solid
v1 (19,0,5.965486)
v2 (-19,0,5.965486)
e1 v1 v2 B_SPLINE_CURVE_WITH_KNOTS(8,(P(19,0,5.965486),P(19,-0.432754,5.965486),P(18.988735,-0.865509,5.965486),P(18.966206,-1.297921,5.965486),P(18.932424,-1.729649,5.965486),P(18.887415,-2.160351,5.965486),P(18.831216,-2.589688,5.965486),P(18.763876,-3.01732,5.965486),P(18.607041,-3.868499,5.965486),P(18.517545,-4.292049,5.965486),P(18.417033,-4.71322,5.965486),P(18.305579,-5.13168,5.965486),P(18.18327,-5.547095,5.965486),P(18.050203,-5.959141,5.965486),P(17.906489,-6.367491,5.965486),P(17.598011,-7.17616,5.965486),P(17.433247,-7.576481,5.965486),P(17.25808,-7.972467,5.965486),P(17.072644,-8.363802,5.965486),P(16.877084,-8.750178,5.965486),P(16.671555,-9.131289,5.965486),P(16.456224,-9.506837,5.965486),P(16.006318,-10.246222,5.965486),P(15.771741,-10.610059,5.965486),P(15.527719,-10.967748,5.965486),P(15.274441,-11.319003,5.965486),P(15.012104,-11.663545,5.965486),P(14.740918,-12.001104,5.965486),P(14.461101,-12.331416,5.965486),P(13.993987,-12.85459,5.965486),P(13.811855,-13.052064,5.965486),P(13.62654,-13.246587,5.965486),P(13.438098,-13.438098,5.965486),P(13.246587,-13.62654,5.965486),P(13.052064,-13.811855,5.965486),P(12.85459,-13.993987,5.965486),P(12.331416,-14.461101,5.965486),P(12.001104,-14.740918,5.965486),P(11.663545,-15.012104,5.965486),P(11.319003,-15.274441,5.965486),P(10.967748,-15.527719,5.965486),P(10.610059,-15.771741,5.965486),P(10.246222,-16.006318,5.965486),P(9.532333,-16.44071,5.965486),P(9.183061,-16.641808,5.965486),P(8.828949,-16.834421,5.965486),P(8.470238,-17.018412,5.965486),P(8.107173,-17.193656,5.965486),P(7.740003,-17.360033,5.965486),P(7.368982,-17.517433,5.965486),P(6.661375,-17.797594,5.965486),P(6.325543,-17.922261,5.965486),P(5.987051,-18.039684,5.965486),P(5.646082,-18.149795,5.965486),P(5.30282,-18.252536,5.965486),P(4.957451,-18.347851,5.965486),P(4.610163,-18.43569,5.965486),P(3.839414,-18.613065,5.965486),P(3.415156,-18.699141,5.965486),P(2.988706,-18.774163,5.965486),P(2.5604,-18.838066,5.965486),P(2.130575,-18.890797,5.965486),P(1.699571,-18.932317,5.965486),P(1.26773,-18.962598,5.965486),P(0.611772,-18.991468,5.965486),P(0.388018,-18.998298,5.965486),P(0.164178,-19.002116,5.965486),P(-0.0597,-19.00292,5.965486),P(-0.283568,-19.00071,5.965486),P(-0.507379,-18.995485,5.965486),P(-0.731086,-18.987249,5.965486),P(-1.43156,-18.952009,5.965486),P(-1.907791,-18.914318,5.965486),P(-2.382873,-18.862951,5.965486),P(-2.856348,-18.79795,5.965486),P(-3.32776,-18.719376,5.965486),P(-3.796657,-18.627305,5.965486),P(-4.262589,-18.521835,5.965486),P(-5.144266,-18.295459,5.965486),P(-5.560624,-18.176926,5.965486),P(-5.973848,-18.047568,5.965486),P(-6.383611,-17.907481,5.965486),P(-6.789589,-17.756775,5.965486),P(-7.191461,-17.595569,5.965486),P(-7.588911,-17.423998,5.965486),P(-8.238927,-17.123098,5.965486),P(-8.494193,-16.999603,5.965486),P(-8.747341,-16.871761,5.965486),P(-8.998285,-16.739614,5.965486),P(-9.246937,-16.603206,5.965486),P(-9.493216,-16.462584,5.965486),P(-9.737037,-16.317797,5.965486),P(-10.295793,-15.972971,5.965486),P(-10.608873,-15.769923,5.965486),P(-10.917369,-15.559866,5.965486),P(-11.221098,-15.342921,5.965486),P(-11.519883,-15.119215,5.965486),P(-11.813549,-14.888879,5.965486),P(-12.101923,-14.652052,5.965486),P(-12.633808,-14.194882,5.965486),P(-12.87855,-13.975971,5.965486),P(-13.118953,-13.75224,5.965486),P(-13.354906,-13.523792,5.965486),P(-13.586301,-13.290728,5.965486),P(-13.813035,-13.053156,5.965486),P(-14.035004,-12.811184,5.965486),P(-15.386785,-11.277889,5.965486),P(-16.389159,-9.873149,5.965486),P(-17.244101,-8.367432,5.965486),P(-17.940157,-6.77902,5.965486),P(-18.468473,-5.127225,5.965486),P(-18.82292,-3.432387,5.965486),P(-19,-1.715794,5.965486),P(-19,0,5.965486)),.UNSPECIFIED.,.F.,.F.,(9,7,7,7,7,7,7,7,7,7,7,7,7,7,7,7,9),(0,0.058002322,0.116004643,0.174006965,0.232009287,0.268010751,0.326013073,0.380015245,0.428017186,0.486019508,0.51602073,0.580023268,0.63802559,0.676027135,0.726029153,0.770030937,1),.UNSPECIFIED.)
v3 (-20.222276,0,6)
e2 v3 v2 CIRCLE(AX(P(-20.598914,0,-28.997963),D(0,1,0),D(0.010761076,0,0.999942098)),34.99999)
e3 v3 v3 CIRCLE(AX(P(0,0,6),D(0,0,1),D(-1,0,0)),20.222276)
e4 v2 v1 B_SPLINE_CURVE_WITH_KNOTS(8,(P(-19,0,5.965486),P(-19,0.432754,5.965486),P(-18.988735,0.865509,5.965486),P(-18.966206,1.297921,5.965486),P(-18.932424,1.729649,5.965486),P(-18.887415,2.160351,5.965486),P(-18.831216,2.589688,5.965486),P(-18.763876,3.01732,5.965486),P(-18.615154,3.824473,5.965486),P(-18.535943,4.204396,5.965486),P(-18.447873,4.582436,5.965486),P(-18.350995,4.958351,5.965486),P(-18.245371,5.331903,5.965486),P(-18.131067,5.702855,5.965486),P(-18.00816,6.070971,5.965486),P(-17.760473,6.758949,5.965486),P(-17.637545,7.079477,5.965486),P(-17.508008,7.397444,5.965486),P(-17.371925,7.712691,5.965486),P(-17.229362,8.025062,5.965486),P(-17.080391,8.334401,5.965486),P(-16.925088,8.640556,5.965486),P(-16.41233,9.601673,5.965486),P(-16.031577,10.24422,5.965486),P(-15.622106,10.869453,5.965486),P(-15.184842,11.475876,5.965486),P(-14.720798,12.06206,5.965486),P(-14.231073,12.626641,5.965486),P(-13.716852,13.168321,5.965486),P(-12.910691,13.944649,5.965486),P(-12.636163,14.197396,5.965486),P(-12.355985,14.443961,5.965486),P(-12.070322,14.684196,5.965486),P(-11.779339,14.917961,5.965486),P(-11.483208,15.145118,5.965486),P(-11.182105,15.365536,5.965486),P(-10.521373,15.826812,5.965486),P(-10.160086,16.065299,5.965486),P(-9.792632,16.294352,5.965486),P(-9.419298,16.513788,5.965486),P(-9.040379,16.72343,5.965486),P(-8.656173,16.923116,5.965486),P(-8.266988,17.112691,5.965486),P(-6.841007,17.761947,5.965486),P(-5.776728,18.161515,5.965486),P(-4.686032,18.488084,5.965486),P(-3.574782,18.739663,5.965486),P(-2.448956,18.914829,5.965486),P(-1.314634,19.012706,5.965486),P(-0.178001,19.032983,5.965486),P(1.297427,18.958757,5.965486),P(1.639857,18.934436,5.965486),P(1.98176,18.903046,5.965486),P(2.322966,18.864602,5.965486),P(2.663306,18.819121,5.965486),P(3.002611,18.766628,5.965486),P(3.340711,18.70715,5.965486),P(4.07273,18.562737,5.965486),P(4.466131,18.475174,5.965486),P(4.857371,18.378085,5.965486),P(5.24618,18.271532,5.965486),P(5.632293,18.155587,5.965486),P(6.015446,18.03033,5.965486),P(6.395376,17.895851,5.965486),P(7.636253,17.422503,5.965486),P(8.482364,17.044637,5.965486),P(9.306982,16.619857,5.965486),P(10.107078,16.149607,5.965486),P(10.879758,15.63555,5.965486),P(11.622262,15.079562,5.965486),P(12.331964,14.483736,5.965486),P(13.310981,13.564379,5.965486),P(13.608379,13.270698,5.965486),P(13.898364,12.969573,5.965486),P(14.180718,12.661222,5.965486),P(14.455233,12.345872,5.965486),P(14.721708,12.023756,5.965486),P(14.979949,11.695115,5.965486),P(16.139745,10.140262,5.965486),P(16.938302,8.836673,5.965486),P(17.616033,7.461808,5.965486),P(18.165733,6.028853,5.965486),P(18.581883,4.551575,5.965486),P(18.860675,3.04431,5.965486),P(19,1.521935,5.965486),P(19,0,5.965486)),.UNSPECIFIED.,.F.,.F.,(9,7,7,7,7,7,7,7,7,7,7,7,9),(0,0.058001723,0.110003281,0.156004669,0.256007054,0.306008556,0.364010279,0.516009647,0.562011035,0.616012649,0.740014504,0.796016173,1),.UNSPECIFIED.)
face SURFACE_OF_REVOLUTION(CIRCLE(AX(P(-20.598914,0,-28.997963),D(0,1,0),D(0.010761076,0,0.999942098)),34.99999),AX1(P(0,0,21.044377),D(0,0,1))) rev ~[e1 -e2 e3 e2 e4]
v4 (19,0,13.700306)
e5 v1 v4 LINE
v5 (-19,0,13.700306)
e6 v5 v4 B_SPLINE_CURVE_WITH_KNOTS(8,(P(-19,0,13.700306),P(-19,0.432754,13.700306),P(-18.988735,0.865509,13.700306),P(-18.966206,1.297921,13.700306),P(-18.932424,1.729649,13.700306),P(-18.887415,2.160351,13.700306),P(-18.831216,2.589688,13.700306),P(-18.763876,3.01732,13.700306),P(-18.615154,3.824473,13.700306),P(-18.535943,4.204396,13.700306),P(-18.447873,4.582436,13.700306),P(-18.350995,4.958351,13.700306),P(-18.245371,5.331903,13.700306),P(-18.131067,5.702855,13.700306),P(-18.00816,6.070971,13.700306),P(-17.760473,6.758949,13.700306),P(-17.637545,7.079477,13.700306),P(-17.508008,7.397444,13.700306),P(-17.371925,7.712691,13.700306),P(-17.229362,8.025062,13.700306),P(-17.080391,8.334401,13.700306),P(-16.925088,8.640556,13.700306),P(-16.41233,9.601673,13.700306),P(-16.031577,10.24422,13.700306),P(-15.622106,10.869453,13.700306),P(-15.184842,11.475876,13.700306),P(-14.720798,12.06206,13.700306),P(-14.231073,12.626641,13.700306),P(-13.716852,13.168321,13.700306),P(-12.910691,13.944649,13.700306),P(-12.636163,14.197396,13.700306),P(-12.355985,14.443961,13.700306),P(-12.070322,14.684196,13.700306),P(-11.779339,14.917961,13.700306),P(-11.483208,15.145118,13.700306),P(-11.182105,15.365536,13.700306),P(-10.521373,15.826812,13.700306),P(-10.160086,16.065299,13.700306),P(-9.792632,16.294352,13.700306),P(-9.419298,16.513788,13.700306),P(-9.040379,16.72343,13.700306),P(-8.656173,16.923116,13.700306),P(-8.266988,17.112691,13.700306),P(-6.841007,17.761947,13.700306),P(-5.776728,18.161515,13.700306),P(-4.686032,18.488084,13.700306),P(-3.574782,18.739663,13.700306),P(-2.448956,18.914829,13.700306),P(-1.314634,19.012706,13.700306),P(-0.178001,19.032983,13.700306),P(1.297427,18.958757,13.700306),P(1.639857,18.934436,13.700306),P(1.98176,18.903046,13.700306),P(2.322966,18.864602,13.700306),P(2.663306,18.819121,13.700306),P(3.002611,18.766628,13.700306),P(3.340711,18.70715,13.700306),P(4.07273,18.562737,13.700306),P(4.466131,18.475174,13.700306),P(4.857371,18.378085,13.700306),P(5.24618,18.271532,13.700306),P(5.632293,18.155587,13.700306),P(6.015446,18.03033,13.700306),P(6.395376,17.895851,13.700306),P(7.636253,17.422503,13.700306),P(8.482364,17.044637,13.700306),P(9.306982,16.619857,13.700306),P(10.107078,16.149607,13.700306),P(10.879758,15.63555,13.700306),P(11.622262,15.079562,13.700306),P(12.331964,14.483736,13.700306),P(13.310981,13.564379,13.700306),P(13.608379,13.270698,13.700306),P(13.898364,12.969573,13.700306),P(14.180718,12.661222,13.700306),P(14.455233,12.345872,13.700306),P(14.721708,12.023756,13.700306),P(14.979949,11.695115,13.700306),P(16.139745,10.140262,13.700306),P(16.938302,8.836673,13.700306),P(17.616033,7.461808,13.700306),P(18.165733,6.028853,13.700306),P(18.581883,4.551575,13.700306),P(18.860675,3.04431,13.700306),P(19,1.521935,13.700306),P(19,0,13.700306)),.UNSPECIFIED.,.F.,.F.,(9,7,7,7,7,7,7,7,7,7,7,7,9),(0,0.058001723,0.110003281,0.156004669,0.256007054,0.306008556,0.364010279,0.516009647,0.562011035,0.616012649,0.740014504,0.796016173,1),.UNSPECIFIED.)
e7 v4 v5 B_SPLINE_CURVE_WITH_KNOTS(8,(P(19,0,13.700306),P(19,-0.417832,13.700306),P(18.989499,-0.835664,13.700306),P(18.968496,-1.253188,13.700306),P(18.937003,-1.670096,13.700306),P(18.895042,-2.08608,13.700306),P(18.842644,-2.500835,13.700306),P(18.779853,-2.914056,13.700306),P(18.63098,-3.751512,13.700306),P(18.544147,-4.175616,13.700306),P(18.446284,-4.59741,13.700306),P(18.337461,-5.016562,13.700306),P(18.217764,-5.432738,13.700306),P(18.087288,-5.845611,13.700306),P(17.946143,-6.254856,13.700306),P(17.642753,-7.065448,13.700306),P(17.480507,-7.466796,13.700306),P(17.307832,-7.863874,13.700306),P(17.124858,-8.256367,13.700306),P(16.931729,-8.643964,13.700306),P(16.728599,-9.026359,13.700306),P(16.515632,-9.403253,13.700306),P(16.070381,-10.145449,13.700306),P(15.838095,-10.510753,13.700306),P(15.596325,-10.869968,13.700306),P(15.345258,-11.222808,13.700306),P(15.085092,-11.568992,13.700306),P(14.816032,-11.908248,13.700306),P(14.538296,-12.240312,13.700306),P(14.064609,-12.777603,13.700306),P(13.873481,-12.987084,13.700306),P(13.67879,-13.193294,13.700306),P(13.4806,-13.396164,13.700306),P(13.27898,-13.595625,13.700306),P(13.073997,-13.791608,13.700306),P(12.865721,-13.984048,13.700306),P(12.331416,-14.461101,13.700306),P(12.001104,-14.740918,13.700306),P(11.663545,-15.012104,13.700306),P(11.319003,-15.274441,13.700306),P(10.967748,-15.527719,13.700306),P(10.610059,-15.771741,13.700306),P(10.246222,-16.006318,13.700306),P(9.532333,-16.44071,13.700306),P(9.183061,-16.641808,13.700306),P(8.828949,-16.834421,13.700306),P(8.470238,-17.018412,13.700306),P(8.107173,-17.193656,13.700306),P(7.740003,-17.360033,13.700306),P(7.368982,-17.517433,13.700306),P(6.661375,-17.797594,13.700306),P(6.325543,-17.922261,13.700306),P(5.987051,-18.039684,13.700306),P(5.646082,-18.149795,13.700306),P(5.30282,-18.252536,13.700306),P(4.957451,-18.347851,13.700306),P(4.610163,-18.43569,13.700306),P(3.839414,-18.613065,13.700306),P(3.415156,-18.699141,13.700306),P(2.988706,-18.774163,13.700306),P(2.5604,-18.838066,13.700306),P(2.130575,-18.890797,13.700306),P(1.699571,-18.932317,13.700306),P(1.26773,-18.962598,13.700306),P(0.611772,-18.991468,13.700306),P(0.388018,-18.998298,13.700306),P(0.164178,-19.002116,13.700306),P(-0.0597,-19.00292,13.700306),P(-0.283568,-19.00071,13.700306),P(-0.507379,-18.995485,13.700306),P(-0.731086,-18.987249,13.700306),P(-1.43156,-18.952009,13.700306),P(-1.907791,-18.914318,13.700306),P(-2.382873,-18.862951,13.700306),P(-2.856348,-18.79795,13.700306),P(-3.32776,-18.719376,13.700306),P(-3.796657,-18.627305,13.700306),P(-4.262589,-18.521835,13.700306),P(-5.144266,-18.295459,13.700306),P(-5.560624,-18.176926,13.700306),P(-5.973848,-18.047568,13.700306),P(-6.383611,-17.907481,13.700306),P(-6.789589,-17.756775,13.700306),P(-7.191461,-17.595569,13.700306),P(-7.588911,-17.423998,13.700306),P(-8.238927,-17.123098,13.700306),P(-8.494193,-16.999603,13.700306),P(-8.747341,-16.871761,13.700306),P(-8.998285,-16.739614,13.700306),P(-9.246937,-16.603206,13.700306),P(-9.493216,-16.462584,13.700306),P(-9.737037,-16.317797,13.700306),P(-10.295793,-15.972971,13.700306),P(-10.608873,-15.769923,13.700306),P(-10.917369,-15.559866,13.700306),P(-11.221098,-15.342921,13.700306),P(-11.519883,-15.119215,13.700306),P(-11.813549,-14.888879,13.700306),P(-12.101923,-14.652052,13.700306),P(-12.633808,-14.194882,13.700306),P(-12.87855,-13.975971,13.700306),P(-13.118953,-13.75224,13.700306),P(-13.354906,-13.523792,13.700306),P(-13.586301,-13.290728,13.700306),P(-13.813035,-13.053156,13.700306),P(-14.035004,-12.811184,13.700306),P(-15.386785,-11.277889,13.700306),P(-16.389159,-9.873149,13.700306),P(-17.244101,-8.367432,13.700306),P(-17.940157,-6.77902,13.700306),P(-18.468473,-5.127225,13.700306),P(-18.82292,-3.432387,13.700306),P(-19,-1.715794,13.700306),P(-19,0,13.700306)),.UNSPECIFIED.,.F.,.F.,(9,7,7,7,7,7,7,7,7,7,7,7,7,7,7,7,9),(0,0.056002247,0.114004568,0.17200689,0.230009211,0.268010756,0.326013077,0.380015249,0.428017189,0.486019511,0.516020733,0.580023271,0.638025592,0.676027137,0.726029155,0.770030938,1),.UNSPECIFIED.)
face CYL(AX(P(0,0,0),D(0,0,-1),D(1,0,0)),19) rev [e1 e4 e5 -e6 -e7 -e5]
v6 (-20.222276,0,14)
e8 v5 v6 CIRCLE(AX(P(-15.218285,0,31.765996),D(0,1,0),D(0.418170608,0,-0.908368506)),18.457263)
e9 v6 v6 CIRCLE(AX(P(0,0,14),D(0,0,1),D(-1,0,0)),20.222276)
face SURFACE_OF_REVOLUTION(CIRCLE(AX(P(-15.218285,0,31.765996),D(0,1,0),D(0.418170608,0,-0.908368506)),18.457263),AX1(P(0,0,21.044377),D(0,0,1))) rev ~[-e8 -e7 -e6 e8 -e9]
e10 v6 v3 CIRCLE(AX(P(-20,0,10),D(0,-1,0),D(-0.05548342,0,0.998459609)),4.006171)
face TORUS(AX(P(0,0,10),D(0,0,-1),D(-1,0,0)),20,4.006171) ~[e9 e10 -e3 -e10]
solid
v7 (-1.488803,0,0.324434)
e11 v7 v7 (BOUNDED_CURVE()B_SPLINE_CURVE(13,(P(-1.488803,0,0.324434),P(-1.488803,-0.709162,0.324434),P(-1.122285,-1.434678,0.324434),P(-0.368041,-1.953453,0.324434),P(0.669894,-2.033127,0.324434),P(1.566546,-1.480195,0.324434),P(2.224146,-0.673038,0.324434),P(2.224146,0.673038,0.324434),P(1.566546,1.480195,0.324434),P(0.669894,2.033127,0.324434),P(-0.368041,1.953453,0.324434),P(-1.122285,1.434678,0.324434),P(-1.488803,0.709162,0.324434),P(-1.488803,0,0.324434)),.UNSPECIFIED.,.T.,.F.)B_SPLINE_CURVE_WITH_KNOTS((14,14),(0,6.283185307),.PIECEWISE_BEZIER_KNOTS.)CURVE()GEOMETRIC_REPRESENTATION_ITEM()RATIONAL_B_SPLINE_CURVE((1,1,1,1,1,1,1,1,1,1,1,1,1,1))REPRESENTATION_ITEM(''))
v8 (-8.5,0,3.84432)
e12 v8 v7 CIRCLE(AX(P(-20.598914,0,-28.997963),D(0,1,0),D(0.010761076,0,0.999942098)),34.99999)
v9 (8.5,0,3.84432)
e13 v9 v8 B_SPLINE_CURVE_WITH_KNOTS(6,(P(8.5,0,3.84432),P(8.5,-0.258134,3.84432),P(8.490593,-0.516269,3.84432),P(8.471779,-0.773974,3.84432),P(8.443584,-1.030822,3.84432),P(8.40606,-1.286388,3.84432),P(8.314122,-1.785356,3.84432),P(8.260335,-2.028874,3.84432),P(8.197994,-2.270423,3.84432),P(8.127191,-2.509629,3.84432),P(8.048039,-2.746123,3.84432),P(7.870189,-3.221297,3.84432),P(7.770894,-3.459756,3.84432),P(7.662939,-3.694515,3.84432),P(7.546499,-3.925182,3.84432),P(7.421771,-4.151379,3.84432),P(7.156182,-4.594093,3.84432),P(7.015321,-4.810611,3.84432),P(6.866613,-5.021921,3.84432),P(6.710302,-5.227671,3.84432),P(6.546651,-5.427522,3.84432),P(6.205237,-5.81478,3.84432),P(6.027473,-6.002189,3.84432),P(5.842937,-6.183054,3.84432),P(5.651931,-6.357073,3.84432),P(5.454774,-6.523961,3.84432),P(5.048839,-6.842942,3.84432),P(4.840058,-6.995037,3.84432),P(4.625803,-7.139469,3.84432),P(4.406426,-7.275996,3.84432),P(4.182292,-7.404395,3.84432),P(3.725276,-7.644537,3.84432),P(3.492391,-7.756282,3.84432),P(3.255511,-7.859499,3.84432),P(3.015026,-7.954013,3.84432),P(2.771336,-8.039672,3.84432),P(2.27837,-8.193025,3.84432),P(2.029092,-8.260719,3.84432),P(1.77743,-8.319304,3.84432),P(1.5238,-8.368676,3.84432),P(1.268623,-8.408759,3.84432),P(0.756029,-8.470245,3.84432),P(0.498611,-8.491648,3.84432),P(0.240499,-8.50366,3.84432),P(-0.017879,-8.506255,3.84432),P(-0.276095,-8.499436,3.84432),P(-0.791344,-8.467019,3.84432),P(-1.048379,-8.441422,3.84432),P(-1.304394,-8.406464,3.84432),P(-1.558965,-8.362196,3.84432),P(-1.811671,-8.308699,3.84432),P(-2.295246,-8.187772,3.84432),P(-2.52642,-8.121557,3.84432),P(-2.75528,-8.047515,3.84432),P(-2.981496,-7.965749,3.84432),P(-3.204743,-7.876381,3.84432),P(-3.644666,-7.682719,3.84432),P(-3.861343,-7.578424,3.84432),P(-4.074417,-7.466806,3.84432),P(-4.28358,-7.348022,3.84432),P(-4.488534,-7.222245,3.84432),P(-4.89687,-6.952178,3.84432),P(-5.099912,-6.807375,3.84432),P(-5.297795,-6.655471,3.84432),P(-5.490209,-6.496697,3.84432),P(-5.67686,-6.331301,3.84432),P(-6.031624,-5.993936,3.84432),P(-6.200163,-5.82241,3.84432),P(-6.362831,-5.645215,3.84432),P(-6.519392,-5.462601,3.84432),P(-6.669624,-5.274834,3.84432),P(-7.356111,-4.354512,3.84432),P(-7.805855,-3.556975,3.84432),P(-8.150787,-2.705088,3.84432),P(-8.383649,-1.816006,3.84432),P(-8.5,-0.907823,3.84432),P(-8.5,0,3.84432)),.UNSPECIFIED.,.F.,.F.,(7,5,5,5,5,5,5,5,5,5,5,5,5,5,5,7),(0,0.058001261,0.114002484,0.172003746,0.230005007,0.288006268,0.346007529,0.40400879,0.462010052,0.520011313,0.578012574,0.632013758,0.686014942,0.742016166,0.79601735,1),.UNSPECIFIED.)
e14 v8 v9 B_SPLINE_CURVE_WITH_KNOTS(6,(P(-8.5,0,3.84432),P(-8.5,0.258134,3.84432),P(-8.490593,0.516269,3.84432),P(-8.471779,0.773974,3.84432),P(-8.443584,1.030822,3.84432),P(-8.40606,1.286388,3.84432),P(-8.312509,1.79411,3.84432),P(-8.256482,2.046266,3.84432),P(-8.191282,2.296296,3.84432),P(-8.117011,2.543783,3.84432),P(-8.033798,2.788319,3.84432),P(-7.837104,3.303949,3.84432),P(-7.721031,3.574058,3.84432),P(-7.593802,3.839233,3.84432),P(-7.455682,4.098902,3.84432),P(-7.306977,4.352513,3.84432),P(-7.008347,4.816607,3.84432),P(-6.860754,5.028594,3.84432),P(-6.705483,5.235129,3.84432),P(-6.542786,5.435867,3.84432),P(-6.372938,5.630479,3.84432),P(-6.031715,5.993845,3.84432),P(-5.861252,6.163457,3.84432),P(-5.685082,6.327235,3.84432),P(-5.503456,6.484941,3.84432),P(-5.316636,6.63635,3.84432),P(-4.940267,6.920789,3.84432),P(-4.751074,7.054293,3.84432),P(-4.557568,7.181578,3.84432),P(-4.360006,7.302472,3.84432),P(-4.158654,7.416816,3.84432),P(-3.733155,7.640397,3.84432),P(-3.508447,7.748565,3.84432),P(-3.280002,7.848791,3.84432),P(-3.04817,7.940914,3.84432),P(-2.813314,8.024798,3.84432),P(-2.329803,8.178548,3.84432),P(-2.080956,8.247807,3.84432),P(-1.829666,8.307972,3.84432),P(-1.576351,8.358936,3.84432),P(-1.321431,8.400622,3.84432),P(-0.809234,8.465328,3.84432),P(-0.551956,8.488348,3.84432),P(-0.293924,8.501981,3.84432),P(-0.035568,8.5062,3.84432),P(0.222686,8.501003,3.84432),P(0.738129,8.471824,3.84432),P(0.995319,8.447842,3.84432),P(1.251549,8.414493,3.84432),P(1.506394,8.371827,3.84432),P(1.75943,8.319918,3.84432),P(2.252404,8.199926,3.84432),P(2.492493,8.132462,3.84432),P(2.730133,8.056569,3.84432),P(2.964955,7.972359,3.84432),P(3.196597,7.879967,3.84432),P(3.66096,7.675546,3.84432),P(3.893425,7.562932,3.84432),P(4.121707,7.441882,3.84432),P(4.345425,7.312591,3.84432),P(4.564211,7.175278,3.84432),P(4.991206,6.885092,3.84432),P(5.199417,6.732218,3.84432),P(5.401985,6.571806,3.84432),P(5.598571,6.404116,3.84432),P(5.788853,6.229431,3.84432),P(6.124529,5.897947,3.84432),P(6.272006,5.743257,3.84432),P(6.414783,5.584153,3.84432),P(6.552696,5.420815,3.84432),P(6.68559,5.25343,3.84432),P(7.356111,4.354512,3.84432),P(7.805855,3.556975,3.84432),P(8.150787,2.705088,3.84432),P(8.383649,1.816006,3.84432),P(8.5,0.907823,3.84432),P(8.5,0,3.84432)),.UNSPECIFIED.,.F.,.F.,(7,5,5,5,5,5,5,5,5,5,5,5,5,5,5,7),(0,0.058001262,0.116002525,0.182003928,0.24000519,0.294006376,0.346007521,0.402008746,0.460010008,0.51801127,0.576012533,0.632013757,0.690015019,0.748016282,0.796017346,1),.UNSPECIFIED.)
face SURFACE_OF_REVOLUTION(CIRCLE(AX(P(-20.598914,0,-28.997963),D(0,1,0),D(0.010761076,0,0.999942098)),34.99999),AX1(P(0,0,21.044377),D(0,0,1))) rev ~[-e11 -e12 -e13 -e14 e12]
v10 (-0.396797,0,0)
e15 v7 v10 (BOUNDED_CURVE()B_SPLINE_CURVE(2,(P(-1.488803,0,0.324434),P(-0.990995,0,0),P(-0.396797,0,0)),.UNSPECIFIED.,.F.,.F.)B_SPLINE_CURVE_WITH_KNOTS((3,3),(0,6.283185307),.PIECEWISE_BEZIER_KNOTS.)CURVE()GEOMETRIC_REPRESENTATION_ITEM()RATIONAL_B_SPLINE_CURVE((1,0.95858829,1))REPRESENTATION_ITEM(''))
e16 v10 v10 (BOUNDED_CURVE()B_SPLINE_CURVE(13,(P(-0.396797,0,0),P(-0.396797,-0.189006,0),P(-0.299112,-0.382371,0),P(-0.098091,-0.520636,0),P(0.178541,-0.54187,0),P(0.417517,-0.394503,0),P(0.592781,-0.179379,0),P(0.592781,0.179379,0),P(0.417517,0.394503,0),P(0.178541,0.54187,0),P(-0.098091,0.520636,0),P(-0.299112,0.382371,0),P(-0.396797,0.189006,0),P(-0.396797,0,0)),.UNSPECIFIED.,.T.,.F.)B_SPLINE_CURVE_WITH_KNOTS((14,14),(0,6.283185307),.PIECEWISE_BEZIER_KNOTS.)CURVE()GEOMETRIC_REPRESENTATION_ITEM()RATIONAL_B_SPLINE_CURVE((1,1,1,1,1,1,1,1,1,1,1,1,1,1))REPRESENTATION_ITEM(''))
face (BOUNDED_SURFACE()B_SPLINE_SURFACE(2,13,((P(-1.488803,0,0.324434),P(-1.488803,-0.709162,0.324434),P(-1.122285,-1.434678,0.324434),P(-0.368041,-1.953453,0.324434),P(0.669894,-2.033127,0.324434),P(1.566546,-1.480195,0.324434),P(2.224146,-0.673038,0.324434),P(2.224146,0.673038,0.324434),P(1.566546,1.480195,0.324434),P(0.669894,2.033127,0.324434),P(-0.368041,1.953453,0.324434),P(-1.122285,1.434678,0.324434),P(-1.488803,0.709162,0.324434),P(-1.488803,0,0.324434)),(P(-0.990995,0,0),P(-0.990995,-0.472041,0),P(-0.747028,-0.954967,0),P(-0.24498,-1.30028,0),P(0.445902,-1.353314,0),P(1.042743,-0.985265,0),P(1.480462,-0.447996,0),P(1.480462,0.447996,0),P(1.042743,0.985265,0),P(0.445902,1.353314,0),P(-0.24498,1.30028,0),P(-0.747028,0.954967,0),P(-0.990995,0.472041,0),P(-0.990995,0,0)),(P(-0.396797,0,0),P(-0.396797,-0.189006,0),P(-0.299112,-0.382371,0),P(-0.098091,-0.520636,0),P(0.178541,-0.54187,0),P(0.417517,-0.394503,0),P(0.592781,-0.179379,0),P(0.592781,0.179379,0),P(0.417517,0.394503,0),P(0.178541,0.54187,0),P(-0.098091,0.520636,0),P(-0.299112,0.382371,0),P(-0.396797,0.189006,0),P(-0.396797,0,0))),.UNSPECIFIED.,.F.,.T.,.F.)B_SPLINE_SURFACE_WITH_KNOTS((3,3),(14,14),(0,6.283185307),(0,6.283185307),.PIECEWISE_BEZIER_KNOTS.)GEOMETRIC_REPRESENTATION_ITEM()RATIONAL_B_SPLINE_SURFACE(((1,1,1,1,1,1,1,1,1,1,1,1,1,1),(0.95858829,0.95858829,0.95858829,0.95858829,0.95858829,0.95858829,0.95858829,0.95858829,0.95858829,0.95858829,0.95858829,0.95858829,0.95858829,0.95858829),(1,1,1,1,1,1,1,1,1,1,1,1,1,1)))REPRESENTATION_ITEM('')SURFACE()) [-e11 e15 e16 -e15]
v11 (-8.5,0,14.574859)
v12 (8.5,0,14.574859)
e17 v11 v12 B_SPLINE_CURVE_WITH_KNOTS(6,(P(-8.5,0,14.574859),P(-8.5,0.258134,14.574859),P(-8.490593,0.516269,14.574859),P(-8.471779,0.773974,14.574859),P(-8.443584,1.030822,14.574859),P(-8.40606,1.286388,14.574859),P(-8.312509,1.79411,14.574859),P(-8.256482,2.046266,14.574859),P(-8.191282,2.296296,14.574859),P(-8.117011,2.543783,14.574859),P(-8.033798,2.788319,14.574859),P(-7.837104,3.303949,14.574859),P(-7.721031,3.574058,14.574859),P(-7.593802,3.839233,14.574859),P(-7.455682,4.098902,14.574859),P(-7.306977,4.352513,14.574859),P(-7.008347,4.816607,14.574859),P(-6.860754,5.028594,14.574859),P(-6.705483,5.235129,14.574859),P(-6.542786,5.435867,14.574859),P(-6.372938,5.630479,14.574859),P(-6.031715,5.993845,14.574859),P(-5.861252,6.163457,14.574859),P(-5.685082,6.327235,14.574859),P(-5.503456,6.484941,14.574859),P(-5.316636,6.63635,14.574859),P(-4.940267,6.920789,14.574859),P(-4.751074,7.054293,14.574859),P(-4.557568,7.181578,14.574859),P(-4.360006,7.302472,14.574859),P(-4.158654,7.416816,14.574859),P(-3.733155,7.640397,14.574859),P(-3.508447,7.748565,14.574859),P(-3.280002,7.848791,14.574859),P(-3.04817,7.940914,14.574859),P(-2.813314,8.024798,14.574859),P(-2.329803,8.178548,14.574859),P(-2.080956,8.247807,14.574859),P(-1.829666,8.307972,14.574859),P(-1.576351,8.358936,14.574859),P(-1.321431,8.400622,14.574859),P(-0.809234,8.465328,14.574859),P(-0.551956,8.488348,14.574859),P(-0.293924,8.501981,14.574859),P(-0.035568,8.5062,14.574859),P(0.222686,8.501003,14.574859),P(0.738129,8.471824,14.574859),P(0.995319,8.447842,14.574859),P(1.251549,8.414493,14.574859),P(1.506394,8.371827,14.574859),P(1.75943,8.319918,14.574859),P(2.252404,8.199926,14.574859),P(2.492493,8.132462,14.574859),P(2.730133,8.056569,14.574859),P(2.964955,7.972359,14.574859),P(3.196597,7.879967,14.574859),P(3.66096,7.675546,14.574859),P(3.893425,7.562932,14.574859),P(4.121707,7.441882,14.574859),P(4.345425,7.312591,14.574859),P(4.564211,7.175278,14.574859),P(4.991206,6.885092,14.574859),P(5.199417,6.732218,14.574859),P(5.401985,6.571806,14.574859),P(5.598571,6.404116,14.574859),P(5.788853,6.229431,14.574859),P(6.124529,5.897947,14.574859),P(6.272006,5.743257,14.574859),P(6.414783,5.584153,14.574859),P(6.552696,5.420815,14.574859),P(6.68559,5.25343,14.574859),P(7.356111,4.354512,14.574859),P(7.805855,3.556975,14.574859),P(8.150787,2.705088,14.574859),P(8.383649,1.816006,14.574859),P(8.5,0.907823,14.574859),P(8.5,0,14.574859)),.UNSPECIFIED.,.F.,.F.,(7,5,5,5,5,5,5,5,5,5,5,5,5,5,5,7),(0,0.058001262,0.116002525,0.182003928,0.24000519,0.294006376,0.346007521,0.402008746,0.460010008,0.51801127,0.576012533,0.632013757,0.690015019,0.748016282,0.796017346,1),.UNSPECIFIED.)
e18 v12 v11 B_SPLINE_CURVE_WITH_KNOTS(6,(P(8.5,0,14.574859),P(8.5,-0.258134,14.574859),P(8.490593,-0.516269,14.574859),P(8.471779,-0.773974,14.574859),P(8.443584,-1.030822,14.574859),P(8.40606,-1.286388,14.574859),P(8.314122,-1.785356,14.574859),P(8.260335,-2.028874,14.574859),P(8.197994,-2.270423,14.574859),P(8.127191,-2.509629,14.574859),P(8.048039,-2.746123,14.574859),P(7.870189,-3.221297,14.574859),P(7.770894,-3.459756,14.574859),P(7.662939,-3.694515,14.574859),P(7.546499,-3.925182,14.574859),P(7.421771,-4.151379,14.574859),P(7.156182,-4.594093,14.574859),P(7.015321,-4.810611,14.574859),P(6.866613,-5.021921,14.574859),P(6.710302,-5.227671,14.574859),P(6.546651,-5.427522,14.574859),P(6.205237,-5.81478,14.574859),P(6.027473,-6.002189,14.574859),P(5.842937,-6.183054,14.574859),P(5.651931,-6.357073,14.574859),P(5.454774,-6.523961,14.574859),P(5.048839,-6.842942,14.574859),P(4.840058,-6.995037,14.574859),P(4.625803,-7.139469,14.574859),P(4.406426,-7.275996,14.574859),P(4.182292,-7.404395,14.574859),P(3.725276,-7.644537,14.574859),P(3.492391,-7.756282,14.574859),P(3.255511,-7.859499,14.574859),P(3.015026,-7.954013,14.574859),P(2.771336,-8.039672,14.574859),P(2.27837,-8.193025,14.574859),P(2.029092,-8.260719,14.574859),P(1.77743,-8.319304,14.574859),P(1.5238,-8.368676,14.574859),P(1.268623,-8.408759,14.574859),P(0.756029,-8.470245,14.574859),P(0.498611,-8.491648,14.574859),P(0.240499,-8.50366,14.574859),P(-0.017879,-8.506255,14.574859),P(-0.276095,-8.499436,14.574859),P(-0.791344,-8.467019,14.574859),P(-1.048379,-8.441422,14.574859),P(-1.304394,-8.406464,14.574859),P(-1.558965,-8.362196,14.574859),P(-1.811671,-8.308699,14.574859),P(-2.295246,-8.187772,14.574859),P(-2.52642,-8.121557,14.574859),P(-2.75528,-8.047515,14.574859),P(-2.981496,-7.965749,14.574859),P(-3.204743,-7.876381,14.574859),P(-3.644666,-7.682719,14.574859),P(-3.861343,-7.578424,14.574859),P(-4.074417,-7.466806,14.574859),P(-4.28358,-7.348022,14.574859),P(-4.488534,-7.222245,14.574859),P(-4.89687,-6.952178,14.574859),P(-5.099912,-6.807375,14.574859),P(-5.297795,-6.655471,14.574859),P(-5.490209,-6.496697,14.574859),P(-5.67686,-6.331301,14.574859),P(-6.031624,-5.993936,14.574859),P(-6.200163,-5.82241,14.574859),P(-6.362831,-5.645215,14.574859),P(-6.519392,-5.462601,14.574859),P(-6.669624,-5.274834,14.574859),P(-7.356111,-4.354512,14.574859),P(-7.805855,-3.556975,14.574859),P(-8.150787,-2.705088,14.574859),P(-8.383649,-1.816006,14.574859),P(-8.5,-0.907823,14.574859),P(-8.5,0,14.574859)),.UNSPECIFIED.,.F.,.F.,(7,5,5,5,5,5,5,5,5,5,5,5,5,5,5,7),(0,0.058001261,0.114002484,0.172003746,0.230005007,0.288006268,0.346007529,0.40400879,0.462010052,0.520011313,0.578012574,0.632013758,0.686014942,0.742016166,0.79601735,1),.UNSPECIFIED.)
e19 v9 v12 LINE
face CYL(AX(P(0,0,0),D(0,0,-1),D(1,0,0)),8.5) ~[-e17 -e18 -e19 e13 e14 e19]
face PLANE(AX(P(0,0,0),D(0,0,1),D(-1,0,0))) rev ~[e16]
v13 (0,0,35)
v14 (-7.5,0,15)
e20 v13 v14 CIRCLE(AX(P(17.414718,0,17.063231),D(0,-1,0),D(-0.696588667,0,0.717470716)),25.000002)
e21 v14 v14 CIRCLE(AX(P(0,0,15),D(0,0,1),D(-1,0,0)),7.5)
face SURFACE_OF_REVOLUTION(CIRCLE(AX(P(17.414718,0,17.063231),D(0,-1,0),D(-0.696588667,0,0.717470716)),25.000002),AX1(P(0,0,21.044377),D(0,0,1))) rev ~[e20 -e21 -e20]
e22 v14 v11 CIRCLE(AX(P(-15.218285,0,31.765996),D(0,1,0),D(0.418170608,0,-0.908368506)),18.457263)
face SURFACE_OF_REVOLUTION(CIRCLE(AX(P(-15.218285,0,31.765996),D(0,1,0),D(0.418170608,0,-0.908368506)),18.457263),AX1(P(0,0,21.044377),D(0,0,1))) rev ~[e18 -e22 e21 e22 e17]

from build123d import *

# Parameters (mm, degrees)
F3_R     = 2
F4_R     = 19
F4_R_2   = 8.5
F5_DEPTH = 25


with BuildPart() as f2:
    # F0 (on Front) → F2 (revolve)
    with BuildSketch(Plane.XZ):
        with BuildLine():
            Line((0, 0), (0, 35))
            ThreePointArc((0, 35), (-5.993513, 25.841318), (-7.5, 15))
            ThreePointArc((-7.5, 15), (-13.771963, 13.365488), (-20.222276, 14))
            ThreePointArc((-20.222276, 14), (-24.006171, 10), (-20.222276, 6))
            ThreePointArc((-20.222276, 6), (-10.170315, 4.412269), (-1, 0))
            Line((-1, 0), (0, 0))
        make_face()
    revolve(axis=Axis((0, 0, 21.044377), (0, 0, 1)))

    # F3
    f3_edges = [f2.edges().sort_by_distance(p)[0] for p in [
        (1, 0, 0),
    ]]
    fillet(f3_edges, radius=F3_R)

    # F4 (on Top) → F5 (cut)
    with BuildSketch(Plane.XY):
        Circle(F4_R)
        Circle(F4_R_2, mode=Mode.SUBTRACT)
    extrude(amount=F5_DEPTH, mode=Mode.SUBTRACT)


solid = f2.part
